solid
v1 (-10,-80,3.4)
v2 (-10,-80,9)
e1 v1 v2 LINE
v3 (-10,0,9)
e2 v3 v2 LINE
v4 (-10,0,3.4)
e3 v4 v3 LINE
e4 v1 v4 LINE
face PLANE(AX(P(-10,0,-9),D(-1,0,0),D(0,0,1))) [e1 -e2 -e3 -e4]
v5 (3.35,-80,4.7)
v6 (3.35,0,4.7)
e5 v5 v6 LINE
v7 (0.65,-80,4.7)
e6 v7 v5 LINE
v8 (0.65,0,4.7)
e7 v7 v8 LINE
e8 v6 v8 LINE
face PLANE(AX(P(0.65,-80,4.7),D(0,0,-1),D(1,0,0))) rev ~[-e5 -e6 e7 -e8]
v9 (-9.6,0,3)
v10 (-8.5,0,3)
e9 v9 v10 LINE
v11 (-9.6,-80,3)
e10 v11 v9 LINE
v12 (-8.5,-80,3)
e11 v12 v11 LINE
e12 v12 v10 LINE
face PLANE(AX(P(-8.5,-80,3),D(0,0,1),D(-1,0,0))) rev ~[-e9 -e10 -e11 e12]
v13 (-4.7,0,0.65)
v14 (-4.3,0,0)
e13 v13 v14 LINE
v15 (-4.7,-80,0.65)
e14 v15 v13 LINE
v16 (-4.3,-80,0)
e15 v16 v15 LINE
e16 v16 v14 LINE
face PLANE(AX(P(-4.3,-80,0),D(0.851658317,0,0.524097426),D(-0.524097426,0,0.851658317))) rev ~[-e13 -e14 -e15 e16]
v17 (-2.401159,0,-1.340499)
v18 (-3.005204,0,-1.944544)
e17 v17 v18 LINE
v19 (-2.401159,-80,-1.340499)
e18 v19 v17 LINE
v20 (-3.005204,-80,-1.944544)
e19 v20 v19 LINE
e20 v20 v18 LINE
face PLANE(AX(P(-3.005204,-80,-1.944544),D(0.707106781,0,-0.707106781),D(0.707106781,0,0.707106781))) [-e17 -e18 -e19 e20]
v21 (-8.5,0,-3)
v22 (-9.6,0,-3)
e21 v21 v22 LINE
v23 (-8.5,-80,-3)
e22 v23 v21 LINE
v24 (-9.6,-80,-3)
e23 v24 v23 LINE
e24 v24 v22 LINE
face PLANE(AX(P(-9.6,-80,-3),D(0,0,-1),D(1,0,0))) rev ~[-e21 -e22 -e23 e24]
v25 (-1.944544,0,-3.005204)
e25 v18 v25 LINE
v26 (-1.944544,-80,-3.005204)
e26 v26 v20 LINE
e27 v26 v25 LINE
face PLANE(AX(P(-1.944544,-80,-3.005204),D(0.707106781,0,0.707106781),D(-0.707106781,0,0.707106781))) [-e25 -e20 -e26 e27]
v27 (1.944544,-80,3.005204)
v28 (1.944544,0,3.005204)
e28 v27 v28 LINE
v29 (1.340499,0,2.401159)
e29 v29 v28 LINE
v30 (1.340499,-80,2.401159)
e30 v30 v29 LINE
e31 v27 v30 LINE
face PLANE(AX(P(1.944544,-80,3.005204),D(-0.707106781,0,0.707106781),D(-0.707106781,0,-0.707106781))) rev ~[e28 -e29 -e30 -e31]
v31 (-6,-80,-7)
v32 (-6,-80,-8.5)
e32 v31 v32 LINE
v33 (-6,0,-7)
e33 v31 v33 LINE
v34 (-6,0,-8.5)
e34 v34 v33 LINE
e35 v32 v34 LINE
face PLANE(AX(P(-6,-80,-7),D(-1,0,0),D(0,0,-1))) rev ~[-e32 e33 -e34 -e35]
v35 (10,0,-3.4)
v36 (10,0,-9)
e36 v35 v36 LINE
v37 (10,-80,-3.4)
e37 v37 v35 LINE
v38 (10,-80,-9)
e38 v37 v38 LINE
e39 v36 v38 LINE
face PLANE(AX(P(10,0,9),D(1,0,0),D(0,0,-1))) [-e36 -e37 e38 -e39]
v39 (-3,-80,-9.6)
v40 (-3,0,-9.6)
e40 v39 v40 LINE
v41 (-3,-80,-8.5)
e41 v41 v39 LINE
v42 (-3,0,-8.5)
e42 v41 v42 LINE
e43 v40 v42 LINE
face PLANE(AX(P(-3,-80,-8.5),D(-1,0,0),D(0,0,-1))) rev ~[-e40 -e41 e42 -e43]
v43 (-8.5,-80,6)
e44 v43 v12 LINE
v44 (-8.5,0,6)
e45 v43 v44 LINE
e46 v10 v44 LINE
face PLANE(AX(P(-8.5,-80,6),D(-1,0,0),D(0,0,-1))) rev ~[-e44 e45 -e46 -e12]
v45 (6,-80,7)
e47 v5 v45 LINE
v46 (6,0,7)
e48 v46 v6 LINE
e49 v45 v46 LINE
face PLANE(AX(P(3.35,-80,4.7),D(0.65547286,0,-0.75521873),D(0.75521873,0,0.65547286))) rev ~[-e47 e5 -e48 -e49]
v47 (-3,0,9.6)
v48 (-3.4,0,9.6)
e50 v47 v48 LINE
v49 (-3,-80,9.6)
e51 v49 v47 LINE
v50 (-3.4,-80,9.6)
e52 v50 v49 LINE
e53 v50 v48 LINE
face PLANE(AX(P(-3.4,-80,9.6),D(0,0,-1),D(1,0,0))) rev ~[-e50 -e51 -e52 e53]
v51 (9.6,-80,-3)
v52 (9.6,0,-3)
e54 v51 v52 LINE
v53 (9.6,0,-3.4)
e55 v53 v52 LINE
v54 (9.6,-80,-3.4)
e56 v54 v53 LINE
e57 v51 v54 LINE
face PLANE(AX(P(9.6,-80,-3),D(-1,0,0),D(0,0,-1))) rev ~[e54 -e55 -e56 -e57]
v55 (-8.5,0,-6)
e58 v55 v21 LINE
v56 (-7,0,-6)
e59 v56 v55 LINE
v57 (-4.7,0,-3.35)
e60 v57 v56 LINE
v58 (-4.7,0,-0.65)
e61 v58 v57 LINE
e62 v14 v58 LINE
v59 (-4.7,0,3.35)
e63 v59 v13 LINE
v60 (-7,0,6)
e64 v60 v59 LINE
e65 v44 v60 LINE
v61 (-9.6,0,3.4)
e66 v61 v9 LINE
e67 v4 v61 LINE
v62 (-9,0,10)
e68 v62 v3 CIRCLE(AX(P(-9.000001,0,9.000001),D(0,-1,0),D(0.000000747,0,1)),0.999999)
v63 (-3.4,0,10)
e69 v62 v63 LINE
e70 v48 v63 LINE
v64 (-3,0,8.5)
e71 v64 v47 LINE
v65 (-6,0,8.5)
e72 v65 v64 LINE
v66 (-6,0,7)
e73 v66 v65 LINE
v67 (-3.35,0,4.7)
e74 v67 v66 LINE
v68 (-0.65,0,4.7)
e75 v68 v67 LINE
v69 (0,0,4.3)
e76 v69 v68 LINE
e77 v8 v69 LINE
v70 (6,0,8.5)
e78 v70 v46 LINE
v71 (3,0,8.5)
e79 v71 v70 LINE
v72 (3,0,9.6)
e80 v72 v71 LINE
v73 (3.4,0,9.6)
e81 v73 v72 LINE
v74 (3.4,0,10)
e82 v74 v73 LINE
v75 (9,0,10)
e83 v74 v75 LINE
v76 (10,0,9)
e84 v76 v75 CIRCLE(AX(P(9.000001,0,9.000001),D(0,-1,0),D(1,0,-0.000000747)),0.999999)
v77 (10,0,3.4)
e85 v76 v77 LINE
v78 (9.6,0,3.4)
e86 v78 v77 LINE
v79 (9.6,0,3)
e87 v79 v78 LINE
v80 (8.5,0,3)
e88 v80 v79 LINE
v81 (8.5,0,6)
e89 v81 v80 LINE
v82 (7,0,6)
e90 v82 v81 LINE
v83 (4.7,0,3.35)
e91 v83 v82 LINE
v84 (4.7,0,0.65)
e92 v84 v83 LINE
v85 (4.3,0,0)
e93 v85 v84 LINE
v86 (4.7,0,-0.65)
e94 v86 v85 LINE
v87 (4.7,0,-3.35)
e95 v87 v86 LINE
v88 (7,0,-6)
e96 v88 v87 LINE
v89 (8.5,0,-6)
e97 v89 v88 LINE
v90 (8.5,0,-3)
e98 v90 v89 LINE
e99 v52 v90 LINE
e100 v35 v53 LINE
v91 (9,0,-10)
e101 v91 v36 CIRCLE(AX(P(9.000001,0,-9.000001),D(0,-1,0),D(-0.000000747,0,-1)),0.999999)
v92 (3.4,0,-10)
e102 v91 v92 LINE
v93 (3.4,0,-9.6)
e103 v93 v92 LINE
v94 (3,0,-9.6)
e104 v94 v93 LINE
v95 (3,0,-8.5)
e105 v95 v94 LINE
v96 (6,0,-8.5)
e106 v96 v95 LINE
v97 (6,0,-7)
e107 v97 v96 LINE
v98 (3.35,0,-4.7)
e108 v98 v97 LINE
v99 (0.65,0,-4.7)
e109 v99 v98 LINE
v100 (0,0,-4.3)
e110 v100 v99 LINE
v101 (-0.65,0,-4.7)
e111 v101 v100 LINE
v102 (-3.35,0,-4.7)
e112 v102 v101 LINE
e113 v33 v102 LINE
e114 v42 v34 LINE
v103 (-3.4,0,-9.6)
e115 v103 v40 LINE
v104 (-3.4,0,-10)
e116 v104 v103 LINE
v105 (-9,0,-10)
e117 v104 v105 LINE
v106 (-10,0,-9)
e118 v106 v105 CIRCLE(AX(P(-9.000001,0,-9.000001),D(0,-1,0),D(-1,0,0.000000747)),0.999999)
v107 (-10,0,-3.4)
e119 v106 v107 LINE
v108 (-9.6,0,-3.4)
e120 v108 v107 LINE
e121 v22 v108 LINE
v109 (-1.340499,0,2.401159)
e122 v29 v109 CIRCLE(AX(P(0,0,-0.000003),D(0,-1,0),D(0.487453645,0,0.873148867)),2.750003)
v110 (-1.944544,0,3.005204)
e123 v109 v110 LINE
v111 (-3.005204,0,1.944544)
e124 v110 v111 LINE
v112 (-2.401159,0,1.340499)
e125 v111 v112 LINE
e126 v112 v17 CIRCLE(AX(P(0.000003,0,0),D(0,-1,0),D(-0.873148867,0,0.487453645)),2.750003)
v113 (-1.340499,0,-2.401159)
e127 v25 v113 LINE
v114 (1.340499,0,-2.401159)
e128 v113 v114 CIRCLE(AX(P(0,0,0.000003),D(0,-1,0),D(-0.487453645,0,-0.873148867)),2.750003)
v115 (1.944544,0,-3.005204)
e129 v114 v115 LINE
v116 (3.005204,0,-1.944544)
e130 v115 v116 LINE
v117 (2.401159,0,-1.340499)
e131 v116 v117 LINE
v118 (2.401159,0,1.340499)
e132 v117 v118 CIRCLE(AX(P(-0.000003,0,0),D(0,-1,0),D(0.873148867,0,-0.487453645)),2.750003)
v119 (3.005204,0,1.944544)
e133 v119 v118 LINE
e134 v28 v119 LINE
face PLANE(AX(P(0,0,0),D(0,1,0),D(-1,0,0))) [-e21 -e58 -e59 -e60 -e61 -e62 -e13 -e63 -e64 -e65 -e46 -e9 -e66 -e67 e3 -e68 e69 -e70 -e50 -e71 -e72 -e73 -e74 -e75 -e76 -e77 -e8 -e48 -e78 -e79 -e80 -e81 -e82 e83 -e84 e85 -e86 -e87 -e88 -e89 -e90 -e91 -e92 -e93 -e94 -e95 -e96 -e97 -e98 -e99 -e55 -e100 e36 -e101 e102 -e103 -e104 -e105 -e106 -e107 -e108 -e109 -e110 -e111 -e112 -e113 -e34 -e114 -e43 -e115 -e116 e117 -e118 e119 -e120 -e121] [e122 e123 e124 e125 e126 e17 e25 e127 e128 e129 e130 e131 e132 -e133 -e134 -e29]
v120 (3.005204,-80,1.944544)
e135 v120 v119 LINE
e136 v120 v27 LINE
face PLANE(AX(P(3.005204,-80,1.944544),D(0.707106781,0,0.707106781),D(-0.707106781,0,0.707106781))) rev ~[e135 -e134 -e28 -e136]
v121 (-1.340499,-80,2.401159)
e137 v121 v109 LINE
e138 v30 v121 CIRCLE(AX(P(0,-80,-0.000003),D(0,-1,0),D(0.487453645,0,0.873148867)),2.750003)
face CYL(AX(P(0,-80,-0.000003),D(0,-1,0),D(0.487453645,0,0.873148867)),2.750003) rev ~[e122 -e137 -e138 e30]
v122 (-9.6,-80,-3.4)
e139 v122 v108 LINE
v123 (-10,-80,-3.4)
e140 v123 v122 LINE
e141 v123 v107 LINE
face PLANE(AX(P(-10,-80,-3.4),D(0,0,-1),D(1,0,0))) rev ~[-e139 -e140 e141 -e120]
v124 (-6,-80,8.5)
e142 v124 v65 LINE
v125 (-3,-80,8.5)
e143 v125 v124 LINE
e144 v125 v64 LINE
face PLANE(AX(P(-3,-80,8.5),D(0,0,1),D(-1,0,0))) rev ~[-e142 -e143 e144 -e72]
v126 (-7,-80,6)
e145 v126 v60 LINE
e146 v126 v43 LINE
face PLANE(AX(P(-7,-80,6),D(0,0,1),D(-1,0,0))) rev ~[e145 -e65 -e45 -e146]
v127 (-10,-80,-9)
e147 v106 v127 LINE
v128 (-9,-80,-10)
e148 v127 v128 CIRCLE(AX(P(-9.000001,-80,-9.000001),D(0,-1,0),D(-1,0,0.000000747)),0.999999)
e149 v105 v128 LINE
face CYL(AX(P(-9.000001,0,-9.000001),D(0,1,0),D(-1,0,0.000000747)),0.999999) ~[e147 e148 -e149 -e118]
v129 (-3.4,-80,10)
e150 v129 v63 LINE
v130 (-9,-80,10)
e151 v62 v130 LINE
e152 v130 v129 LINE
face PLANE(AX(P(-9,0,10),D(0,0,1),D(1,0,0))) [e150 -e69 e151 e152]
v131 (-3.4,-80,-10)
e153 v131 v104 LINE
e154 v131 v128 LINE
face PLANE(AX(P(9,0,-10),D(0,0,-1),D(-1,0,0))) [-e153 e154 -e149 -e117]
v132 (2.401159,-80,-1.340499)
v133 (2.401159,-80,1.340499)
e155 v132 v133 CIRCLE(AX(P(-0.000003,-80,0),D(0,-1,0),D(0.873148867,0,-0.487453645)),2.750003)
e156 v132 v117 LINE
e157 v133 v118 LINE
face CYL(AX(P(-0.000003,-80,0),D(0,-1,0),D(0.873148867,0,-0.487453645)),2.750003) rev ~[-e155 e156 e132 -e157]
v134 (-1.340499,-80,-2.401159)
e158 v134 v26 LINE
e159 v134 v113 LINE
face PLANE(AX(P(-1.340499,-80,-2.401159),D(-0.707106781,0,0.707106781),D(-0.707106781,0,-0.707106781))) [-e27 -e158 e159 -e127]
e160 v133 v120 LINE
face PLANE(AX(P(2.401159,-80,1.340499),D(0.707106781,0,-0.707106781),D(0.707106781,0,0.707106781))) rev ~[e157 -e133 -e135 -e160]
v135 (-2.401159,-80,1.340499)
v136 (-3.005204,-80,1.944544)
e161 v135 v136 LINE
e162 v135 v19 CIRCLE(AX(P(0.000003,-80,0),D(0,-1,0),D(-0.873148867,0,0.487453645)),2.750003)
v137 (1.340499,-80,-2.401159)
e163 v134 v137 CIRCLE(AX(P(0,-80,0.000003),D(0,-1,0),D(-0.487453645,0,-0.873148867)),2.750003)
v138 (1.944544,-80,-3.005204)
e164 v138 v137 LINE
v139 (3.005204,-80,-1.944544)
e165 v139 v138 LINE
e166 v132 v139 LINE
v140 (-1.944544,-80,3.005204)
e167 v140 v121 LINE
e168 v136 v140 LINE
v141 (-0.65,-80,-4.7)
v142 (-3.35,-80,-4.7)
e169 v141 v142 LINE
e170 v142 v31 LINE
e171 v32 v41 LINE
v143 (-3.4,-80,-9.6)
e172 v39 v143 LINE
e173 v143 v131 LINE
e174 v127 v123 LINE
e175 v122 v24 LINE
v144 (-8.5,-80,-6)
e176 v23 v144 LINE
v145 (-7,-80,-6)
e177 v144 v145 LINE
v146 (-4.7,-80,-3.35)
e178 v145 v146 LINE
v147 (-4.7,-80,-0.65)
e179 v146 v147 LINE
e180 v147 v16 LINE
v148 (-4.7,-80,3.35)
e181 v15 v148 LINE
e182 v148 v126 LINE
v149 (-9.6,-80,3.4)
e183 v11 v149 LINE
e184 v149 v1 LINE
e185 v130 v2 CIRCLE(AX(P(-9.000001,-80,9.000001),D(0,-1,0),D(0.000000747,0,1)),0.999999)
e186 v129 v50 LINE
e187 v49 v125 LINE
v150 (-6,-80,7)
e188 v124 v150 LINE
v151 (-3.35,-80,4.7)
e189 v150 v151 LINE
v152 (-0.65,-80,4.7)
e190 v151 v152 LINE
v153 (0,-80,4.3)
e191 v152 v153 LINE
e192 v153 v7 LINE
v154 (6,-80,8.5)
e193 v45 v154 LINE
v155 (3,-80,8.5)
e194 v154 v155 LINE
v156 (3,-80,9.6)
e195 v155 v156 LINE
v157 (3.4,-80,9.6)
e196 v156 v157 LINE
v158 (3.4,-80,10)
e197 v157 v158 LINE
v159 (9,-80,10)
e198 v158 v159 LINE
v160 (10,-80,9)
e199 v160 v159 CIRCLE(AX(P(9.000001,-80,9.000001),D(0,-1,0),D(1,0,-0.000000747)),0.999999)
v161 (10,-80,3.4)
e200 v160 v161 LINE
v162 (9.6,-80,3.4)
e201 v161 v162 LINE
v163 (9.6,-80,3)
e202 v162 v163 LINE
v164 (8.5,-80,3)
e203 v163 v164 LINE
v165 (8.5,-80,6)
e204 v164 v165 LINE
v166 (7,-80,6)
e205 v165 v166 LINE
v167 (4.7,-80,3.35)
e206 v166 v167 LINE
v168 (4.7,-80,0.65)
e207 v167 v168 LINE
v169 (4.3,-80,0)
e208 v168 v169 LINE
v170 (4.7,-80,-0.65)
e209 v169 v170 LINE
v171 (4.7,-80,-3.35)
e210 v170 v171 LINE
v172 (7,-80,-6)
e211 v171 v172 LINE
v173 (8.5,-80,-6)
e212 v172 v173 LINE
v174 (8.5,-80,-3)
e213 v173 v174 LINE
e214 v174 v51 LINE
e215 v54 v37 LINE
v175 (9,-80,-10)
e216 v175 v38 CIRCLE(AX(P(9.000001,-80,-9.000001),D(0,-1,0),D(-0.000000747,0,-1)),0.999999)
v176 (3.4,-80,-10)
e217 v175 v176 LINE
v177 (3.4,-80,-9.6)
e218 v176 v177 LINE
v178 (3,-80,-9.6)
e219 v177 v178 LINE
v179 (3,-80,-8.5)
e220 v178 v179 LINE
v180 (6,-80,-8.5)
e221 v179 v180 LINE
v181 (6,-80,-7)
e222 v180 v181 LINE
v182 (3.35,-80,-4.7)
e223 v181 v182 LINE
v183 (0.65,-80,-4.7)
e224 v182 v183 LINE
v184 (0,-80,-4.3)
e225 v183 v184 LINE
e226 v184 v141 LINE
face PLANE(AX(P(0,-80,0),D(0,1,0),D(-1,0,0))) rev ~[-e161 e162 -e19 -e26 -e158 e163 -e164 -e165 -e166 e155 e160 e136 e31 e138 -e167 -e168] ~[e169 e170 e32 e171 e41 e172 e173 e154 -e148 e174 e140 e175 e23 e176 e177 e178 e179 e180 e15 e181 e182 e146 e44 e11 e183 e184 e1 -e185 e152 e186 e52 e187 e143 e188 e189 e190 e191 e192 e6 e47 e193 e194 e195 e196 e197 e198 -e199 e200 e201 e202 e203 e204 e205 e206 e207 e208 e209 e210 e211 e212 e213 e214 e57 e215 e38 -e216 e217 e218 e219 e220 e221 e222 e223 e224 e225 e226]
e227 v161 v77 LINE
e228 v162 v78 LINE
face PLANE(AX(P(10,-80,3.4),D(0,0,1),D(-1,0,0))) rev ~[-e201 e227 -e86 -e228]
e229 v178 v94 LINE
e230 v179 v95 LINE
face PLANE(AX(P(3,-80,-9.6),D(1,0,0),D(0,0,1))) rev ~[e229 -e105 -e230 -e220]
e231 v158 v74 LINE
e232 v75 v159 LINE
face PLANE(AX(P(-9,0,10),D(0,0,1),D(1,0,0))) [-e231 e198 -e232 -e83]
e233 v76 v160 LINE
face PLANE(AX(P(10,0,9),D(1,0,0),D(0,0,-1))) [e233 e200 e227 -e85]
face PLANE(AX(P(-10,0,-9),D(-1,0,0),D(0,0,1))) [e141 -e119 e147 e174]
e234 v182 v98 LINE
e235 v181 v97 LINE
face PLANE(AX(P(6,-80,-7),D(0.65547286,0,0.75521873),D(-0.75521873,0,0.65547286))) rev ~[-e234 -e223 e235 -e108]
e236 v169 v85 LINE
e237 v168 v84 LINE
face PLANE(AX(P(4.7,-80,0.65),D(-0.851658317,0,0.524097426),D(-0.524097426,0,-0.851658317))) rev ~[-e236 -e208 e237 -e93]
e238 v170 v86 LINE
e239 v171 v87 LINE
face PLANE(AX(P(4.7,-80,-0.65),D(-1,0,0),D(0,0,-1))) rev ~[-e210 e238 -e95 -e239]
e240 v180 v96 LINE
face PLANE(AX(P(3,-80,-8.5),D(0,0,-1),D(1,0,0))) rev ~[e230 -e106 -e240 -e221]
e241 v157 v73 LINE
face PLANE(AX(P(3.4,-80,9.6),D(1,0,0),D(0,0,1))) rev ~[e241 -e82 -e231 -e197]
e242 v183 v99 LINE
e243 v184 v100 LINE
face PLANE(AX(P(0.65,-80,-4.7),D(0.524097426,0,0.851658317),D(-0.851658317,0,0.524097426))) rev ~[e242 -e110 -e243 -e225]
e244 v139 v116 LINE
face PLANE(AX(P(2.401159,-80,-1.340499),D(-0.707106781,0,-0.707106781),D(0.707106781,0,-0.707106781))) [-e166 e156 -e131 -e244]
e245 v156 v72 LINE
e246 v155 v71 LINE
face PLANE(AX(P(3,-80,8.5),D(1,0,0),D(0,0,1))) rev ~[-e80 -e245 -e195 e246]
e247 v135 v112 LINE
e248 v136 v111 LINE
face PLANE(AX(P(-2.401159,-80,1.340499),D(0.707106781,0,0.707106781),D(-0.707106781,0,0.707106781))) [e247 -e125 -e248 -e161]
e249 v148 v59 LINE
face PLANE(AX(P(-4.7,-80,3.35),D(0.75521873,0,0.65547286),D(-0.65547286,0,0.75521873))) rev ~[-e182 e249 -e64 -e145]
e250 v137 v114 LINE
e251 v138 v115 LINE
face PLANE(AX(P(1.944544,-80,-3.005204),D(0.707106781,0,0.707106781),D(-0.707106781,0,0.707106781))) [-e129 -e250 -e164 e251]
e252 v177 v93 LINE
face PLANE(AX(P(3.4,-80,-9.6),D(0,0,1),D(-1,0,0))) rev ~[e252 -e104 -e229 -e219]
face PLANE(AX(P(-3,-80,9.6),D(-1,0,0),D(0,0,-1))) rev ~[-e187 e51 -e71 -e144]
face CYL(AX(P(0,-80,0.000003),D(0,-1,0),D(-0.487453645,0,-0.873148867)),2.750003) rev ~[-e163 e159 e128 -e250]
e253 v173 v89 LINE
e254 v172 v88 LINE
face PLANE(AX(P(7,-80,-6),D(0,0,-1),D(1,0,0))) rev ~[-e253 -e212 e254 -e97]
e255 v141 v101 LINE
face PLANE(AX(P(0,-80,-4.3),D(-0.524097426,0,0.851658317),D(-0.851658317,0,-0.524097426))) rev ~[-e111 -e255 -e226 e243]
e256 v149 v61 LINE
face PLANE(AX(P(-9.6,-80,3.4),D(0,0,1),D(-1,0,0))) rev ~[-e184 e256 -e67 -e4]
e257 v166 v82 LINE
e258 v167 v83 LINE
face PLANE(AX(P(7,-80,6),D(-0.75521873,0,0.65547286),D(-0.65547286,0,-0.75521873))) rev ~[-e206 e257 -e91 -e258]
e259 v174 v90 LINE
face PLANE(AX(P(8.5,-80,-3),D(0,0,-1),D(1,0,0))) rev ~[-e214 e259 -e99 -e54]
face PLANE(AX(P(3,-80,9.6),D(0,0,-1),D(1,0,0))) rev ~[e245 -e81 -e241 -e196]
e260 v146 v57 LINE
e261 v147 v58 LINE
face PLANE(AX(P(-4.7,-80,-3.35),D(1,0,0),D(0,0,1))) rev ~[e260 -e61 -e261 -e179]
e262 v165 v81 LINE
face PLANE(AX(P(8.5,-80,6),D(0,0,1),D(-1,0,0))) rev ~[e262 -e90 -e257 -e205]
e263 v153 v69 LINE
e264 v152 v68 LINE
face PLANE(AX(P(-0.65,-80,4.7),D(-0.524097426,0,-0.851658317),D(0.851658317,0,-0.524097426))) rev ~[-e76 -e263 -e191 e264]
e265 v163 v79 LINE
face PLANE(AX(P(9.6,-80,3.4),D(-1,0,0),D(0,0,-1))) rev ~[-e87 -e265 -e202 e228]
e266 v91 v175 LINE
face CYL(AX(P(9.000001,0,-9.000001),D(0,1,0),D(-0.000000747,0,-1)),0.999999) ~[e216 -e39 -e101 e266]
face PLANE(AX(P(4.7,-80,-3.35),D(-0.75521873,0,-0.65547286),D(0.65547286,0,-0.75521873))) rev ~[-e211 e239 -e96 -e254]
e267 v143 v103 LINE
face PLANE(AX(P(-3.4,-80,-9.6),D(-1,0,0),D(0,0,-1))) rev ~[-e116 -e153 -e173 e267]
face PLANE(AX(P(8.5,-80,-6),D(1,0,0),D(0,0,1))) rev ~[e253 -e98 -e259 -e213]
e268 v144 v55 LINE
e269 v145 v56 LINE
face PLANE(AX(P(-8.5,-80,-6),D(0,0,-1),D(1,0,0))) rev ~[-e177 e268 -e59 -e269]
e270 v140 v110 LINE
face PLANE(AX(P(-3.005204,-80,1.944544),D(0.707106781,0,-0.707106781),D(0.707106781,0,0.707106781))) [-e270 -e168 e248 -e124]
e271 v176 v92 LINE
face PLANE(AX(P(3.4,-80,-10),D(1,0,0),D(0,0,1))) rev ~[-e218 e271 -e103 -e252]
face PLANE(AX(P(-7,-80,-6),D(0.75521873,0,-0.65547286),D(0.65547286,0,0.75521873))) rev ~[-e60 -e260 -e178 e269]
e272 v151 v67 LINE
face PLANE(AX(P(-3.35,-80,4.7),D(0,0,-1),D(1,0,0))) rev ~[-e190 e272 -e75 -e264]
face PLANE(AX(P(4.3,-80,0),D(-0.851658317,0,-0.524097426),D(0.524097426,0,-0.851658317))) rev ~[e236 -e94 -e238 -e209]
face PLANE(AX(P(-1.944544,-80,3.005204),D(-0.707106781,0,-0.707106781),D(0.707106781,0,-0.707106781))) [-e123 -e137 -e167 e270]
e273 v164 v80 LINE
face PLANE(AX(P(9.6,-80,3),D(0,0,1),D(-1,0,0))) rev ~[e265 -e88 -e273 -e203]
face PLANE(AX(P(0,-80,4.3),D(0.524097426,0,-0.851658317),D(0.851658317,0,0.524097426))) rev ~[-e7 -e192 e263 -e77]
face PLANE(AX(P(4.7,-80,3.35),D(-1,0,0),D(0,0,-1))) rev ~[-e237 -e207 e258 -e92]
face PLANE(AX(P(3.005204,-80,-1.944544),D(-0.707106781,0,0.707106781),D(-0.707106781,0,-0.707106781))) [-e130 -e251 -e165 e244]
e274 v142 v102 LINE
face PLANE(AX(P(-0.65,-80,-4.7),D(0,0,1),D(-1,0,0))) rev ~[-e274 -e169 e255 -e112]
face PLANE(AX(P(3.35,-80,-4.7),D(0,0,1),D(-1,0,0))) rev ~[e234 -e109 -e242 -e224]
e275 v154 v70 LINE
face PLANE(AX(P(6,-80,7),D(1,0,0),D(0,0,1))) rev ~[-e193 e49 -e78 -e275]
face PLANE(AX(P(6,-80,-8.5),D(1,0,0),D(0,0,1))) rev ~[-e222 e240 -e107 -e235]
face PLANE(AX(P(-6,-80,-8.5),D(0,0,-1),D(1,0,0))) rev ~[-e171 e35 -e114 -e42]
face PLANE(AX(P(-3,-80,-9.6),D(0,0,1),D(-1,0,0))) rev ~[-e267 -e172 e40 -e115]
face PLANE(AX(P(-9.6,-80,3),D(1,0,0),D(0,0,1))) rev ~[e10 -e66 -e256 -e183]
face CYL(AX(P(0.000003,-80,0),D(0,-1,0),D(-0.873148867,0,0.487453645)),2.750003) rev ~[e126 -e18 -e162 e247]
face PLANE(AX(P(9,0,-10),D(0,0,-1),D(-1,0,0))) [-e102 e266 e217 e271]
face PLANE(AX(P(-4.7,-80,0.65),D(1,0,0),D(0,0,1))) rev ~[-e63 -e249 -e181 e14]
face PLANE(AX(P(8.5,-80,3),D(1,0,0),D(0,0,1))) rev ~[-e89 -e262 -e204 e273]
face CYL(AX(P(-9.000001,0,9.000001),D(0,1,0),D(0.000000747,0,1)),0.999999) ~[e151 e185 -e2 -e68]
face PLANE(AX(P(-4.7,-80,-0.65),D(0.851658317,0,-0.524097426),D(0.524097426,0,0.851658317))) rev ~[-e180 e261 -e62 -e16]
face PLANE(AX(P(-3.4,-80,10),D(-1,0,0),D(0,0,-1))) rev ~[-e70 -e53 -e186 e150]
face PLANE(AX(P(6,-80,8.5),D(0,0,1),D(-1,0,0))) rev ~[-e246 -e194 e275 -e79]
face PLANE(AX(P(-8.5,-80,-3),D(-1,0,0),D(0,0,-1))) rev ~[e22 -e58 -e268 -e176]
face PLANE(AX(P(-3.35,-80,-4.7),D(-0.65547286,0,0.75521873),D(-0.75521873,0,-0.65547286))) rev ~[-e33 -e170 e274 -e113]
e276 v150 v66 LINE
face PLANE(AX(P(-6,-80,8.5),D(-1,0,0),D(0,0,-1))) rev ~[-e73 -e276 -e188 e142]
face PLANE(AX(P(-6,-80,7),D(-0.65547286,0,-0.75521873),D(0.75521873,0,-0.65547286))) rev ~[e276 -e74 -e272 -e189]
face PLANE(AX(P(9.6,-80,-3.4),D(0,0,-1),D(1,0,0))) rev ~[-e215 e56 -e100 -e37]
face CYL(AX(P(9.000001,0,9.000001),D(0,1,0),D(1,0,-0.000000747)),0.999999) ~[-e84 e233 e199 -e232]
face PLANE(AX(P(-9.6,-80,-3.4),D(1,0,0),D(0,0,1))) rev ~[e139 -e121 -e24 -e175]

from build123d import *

# Parameters (mm, degrees)
PAD_DEPTH          = 80
POCKET_DEPTH       = 380
POLARPATTERN_COUNT = 4
POCKET001_DEPTH    = 380


with BuildPart() as part:
    # Sketch → Pad (new body)
    with BuildSketch(Plane.XZ):
        with BuildLine():
            Line((-9, 10), (9, 10))
            ThreePointArc((10, 9), (9.707107, 9.707107), (9, 10))
            Line((10, 9), (10, -9))
            ThreePointArc((9, -10), (9.707107, -9.707107), (10, -9))
            Line((9, -10), (-9, -10))
            ThreePointArc((-10, -9), (-9.707107, -9.707107), (-9, -10))
            Line((-10, -9), (-10, 9))
            ThreePointArc((-9, 10), (-9.707107, 9.707107), (-10, 9))
        make_face()
    extrude(amount=PAD_DEPTH)

    # Sketch001 (on Face10 of Pad) → Pocket (cut)
    with BuildSketch(Plane.XZ.offset(80)):
        Polygon((-3.4, 10), (-3.4, 9.6), (-3, 9.6), (-3, 8.5), (-6, 8.5), (-6, 7), (-3.35, 4.7), (-0.65, 4.7), (0, 4.3), (0.65, 4.7), (3.35, 4.7), (6, 7), (6, 8.5), (3, 8.5), (3, 9.6), (3.4, 9.6), (3.4, 10), align=None)
    pocket = extrude(amount=-POCKET_DEPTH, mode=Mode.SUBTRACT)

    # PolarPattern: Pocket ×4 about axis
    polarpattern_axis = Axis((0, -80, 0), (0, -1, 0))
    for i in range(1, POLARPATTERN_COUNT):
        add(pocket.rotate(polarpattern_axis, i * 360 / POLARPATTERN_COUNT), mode=Mode.SUBTRACT)

    # Sketch002 (on Face4 of PolarPattern) → Pocket001 (cut)
    with BuildSketch(Plane.XZ.offset(80)):
        with BuildLine():
            ThreePointArc((1.340499, 2.401159), (0, 2.75), (-1.340499, 2.401159))
            Line((-1.944544, 3.005204), (-1.340499, 2.401159))
            Line((-3.005204, 1.944544), (-1.944544, 3.005204))
            Line((-2.401159, 1.340499), (-3.005204, 1.944544))
            ThreePointArc((-2.401159, 1.340499), (-2.75, 0), (-2.401159, -1.340499))
            Line((-3.005204, -1.944544), (-2.401159, -1.340499))
            Line((-1.944544, -3.005204), (-3.005204, -1.944544))
            Line((-1.340499, -2.401159), (-1.944544, -3.005204))
            ThreePointArc((-1.340499, -2.401159), (0, -2.75), (1.340499, -2.401159))
            Line((1.944544, -3.005204), (1.340499, -2.401159))
            Line((3.005204, -1.944544), (1.944544, -3.005204))
            Line((2.401159, -1.340499), (3.005204, -1.944544))
            ThreePointArc((2.401159, -1.340499), (2.75, 0), (2.401159, 1.340499))
            Line((2.401159, 1.340499), (3.005204, 1.944544))
            Line((3.005204, 1.944544), (1.944544, 3.005204))
            Line((1.944544, 3.005204), (1.340499, 2.401159))
        make_face()
    extrude(amount=-POCKET001_DEPTH, mode=Mode.SUBTRACT)


solid = part.part
